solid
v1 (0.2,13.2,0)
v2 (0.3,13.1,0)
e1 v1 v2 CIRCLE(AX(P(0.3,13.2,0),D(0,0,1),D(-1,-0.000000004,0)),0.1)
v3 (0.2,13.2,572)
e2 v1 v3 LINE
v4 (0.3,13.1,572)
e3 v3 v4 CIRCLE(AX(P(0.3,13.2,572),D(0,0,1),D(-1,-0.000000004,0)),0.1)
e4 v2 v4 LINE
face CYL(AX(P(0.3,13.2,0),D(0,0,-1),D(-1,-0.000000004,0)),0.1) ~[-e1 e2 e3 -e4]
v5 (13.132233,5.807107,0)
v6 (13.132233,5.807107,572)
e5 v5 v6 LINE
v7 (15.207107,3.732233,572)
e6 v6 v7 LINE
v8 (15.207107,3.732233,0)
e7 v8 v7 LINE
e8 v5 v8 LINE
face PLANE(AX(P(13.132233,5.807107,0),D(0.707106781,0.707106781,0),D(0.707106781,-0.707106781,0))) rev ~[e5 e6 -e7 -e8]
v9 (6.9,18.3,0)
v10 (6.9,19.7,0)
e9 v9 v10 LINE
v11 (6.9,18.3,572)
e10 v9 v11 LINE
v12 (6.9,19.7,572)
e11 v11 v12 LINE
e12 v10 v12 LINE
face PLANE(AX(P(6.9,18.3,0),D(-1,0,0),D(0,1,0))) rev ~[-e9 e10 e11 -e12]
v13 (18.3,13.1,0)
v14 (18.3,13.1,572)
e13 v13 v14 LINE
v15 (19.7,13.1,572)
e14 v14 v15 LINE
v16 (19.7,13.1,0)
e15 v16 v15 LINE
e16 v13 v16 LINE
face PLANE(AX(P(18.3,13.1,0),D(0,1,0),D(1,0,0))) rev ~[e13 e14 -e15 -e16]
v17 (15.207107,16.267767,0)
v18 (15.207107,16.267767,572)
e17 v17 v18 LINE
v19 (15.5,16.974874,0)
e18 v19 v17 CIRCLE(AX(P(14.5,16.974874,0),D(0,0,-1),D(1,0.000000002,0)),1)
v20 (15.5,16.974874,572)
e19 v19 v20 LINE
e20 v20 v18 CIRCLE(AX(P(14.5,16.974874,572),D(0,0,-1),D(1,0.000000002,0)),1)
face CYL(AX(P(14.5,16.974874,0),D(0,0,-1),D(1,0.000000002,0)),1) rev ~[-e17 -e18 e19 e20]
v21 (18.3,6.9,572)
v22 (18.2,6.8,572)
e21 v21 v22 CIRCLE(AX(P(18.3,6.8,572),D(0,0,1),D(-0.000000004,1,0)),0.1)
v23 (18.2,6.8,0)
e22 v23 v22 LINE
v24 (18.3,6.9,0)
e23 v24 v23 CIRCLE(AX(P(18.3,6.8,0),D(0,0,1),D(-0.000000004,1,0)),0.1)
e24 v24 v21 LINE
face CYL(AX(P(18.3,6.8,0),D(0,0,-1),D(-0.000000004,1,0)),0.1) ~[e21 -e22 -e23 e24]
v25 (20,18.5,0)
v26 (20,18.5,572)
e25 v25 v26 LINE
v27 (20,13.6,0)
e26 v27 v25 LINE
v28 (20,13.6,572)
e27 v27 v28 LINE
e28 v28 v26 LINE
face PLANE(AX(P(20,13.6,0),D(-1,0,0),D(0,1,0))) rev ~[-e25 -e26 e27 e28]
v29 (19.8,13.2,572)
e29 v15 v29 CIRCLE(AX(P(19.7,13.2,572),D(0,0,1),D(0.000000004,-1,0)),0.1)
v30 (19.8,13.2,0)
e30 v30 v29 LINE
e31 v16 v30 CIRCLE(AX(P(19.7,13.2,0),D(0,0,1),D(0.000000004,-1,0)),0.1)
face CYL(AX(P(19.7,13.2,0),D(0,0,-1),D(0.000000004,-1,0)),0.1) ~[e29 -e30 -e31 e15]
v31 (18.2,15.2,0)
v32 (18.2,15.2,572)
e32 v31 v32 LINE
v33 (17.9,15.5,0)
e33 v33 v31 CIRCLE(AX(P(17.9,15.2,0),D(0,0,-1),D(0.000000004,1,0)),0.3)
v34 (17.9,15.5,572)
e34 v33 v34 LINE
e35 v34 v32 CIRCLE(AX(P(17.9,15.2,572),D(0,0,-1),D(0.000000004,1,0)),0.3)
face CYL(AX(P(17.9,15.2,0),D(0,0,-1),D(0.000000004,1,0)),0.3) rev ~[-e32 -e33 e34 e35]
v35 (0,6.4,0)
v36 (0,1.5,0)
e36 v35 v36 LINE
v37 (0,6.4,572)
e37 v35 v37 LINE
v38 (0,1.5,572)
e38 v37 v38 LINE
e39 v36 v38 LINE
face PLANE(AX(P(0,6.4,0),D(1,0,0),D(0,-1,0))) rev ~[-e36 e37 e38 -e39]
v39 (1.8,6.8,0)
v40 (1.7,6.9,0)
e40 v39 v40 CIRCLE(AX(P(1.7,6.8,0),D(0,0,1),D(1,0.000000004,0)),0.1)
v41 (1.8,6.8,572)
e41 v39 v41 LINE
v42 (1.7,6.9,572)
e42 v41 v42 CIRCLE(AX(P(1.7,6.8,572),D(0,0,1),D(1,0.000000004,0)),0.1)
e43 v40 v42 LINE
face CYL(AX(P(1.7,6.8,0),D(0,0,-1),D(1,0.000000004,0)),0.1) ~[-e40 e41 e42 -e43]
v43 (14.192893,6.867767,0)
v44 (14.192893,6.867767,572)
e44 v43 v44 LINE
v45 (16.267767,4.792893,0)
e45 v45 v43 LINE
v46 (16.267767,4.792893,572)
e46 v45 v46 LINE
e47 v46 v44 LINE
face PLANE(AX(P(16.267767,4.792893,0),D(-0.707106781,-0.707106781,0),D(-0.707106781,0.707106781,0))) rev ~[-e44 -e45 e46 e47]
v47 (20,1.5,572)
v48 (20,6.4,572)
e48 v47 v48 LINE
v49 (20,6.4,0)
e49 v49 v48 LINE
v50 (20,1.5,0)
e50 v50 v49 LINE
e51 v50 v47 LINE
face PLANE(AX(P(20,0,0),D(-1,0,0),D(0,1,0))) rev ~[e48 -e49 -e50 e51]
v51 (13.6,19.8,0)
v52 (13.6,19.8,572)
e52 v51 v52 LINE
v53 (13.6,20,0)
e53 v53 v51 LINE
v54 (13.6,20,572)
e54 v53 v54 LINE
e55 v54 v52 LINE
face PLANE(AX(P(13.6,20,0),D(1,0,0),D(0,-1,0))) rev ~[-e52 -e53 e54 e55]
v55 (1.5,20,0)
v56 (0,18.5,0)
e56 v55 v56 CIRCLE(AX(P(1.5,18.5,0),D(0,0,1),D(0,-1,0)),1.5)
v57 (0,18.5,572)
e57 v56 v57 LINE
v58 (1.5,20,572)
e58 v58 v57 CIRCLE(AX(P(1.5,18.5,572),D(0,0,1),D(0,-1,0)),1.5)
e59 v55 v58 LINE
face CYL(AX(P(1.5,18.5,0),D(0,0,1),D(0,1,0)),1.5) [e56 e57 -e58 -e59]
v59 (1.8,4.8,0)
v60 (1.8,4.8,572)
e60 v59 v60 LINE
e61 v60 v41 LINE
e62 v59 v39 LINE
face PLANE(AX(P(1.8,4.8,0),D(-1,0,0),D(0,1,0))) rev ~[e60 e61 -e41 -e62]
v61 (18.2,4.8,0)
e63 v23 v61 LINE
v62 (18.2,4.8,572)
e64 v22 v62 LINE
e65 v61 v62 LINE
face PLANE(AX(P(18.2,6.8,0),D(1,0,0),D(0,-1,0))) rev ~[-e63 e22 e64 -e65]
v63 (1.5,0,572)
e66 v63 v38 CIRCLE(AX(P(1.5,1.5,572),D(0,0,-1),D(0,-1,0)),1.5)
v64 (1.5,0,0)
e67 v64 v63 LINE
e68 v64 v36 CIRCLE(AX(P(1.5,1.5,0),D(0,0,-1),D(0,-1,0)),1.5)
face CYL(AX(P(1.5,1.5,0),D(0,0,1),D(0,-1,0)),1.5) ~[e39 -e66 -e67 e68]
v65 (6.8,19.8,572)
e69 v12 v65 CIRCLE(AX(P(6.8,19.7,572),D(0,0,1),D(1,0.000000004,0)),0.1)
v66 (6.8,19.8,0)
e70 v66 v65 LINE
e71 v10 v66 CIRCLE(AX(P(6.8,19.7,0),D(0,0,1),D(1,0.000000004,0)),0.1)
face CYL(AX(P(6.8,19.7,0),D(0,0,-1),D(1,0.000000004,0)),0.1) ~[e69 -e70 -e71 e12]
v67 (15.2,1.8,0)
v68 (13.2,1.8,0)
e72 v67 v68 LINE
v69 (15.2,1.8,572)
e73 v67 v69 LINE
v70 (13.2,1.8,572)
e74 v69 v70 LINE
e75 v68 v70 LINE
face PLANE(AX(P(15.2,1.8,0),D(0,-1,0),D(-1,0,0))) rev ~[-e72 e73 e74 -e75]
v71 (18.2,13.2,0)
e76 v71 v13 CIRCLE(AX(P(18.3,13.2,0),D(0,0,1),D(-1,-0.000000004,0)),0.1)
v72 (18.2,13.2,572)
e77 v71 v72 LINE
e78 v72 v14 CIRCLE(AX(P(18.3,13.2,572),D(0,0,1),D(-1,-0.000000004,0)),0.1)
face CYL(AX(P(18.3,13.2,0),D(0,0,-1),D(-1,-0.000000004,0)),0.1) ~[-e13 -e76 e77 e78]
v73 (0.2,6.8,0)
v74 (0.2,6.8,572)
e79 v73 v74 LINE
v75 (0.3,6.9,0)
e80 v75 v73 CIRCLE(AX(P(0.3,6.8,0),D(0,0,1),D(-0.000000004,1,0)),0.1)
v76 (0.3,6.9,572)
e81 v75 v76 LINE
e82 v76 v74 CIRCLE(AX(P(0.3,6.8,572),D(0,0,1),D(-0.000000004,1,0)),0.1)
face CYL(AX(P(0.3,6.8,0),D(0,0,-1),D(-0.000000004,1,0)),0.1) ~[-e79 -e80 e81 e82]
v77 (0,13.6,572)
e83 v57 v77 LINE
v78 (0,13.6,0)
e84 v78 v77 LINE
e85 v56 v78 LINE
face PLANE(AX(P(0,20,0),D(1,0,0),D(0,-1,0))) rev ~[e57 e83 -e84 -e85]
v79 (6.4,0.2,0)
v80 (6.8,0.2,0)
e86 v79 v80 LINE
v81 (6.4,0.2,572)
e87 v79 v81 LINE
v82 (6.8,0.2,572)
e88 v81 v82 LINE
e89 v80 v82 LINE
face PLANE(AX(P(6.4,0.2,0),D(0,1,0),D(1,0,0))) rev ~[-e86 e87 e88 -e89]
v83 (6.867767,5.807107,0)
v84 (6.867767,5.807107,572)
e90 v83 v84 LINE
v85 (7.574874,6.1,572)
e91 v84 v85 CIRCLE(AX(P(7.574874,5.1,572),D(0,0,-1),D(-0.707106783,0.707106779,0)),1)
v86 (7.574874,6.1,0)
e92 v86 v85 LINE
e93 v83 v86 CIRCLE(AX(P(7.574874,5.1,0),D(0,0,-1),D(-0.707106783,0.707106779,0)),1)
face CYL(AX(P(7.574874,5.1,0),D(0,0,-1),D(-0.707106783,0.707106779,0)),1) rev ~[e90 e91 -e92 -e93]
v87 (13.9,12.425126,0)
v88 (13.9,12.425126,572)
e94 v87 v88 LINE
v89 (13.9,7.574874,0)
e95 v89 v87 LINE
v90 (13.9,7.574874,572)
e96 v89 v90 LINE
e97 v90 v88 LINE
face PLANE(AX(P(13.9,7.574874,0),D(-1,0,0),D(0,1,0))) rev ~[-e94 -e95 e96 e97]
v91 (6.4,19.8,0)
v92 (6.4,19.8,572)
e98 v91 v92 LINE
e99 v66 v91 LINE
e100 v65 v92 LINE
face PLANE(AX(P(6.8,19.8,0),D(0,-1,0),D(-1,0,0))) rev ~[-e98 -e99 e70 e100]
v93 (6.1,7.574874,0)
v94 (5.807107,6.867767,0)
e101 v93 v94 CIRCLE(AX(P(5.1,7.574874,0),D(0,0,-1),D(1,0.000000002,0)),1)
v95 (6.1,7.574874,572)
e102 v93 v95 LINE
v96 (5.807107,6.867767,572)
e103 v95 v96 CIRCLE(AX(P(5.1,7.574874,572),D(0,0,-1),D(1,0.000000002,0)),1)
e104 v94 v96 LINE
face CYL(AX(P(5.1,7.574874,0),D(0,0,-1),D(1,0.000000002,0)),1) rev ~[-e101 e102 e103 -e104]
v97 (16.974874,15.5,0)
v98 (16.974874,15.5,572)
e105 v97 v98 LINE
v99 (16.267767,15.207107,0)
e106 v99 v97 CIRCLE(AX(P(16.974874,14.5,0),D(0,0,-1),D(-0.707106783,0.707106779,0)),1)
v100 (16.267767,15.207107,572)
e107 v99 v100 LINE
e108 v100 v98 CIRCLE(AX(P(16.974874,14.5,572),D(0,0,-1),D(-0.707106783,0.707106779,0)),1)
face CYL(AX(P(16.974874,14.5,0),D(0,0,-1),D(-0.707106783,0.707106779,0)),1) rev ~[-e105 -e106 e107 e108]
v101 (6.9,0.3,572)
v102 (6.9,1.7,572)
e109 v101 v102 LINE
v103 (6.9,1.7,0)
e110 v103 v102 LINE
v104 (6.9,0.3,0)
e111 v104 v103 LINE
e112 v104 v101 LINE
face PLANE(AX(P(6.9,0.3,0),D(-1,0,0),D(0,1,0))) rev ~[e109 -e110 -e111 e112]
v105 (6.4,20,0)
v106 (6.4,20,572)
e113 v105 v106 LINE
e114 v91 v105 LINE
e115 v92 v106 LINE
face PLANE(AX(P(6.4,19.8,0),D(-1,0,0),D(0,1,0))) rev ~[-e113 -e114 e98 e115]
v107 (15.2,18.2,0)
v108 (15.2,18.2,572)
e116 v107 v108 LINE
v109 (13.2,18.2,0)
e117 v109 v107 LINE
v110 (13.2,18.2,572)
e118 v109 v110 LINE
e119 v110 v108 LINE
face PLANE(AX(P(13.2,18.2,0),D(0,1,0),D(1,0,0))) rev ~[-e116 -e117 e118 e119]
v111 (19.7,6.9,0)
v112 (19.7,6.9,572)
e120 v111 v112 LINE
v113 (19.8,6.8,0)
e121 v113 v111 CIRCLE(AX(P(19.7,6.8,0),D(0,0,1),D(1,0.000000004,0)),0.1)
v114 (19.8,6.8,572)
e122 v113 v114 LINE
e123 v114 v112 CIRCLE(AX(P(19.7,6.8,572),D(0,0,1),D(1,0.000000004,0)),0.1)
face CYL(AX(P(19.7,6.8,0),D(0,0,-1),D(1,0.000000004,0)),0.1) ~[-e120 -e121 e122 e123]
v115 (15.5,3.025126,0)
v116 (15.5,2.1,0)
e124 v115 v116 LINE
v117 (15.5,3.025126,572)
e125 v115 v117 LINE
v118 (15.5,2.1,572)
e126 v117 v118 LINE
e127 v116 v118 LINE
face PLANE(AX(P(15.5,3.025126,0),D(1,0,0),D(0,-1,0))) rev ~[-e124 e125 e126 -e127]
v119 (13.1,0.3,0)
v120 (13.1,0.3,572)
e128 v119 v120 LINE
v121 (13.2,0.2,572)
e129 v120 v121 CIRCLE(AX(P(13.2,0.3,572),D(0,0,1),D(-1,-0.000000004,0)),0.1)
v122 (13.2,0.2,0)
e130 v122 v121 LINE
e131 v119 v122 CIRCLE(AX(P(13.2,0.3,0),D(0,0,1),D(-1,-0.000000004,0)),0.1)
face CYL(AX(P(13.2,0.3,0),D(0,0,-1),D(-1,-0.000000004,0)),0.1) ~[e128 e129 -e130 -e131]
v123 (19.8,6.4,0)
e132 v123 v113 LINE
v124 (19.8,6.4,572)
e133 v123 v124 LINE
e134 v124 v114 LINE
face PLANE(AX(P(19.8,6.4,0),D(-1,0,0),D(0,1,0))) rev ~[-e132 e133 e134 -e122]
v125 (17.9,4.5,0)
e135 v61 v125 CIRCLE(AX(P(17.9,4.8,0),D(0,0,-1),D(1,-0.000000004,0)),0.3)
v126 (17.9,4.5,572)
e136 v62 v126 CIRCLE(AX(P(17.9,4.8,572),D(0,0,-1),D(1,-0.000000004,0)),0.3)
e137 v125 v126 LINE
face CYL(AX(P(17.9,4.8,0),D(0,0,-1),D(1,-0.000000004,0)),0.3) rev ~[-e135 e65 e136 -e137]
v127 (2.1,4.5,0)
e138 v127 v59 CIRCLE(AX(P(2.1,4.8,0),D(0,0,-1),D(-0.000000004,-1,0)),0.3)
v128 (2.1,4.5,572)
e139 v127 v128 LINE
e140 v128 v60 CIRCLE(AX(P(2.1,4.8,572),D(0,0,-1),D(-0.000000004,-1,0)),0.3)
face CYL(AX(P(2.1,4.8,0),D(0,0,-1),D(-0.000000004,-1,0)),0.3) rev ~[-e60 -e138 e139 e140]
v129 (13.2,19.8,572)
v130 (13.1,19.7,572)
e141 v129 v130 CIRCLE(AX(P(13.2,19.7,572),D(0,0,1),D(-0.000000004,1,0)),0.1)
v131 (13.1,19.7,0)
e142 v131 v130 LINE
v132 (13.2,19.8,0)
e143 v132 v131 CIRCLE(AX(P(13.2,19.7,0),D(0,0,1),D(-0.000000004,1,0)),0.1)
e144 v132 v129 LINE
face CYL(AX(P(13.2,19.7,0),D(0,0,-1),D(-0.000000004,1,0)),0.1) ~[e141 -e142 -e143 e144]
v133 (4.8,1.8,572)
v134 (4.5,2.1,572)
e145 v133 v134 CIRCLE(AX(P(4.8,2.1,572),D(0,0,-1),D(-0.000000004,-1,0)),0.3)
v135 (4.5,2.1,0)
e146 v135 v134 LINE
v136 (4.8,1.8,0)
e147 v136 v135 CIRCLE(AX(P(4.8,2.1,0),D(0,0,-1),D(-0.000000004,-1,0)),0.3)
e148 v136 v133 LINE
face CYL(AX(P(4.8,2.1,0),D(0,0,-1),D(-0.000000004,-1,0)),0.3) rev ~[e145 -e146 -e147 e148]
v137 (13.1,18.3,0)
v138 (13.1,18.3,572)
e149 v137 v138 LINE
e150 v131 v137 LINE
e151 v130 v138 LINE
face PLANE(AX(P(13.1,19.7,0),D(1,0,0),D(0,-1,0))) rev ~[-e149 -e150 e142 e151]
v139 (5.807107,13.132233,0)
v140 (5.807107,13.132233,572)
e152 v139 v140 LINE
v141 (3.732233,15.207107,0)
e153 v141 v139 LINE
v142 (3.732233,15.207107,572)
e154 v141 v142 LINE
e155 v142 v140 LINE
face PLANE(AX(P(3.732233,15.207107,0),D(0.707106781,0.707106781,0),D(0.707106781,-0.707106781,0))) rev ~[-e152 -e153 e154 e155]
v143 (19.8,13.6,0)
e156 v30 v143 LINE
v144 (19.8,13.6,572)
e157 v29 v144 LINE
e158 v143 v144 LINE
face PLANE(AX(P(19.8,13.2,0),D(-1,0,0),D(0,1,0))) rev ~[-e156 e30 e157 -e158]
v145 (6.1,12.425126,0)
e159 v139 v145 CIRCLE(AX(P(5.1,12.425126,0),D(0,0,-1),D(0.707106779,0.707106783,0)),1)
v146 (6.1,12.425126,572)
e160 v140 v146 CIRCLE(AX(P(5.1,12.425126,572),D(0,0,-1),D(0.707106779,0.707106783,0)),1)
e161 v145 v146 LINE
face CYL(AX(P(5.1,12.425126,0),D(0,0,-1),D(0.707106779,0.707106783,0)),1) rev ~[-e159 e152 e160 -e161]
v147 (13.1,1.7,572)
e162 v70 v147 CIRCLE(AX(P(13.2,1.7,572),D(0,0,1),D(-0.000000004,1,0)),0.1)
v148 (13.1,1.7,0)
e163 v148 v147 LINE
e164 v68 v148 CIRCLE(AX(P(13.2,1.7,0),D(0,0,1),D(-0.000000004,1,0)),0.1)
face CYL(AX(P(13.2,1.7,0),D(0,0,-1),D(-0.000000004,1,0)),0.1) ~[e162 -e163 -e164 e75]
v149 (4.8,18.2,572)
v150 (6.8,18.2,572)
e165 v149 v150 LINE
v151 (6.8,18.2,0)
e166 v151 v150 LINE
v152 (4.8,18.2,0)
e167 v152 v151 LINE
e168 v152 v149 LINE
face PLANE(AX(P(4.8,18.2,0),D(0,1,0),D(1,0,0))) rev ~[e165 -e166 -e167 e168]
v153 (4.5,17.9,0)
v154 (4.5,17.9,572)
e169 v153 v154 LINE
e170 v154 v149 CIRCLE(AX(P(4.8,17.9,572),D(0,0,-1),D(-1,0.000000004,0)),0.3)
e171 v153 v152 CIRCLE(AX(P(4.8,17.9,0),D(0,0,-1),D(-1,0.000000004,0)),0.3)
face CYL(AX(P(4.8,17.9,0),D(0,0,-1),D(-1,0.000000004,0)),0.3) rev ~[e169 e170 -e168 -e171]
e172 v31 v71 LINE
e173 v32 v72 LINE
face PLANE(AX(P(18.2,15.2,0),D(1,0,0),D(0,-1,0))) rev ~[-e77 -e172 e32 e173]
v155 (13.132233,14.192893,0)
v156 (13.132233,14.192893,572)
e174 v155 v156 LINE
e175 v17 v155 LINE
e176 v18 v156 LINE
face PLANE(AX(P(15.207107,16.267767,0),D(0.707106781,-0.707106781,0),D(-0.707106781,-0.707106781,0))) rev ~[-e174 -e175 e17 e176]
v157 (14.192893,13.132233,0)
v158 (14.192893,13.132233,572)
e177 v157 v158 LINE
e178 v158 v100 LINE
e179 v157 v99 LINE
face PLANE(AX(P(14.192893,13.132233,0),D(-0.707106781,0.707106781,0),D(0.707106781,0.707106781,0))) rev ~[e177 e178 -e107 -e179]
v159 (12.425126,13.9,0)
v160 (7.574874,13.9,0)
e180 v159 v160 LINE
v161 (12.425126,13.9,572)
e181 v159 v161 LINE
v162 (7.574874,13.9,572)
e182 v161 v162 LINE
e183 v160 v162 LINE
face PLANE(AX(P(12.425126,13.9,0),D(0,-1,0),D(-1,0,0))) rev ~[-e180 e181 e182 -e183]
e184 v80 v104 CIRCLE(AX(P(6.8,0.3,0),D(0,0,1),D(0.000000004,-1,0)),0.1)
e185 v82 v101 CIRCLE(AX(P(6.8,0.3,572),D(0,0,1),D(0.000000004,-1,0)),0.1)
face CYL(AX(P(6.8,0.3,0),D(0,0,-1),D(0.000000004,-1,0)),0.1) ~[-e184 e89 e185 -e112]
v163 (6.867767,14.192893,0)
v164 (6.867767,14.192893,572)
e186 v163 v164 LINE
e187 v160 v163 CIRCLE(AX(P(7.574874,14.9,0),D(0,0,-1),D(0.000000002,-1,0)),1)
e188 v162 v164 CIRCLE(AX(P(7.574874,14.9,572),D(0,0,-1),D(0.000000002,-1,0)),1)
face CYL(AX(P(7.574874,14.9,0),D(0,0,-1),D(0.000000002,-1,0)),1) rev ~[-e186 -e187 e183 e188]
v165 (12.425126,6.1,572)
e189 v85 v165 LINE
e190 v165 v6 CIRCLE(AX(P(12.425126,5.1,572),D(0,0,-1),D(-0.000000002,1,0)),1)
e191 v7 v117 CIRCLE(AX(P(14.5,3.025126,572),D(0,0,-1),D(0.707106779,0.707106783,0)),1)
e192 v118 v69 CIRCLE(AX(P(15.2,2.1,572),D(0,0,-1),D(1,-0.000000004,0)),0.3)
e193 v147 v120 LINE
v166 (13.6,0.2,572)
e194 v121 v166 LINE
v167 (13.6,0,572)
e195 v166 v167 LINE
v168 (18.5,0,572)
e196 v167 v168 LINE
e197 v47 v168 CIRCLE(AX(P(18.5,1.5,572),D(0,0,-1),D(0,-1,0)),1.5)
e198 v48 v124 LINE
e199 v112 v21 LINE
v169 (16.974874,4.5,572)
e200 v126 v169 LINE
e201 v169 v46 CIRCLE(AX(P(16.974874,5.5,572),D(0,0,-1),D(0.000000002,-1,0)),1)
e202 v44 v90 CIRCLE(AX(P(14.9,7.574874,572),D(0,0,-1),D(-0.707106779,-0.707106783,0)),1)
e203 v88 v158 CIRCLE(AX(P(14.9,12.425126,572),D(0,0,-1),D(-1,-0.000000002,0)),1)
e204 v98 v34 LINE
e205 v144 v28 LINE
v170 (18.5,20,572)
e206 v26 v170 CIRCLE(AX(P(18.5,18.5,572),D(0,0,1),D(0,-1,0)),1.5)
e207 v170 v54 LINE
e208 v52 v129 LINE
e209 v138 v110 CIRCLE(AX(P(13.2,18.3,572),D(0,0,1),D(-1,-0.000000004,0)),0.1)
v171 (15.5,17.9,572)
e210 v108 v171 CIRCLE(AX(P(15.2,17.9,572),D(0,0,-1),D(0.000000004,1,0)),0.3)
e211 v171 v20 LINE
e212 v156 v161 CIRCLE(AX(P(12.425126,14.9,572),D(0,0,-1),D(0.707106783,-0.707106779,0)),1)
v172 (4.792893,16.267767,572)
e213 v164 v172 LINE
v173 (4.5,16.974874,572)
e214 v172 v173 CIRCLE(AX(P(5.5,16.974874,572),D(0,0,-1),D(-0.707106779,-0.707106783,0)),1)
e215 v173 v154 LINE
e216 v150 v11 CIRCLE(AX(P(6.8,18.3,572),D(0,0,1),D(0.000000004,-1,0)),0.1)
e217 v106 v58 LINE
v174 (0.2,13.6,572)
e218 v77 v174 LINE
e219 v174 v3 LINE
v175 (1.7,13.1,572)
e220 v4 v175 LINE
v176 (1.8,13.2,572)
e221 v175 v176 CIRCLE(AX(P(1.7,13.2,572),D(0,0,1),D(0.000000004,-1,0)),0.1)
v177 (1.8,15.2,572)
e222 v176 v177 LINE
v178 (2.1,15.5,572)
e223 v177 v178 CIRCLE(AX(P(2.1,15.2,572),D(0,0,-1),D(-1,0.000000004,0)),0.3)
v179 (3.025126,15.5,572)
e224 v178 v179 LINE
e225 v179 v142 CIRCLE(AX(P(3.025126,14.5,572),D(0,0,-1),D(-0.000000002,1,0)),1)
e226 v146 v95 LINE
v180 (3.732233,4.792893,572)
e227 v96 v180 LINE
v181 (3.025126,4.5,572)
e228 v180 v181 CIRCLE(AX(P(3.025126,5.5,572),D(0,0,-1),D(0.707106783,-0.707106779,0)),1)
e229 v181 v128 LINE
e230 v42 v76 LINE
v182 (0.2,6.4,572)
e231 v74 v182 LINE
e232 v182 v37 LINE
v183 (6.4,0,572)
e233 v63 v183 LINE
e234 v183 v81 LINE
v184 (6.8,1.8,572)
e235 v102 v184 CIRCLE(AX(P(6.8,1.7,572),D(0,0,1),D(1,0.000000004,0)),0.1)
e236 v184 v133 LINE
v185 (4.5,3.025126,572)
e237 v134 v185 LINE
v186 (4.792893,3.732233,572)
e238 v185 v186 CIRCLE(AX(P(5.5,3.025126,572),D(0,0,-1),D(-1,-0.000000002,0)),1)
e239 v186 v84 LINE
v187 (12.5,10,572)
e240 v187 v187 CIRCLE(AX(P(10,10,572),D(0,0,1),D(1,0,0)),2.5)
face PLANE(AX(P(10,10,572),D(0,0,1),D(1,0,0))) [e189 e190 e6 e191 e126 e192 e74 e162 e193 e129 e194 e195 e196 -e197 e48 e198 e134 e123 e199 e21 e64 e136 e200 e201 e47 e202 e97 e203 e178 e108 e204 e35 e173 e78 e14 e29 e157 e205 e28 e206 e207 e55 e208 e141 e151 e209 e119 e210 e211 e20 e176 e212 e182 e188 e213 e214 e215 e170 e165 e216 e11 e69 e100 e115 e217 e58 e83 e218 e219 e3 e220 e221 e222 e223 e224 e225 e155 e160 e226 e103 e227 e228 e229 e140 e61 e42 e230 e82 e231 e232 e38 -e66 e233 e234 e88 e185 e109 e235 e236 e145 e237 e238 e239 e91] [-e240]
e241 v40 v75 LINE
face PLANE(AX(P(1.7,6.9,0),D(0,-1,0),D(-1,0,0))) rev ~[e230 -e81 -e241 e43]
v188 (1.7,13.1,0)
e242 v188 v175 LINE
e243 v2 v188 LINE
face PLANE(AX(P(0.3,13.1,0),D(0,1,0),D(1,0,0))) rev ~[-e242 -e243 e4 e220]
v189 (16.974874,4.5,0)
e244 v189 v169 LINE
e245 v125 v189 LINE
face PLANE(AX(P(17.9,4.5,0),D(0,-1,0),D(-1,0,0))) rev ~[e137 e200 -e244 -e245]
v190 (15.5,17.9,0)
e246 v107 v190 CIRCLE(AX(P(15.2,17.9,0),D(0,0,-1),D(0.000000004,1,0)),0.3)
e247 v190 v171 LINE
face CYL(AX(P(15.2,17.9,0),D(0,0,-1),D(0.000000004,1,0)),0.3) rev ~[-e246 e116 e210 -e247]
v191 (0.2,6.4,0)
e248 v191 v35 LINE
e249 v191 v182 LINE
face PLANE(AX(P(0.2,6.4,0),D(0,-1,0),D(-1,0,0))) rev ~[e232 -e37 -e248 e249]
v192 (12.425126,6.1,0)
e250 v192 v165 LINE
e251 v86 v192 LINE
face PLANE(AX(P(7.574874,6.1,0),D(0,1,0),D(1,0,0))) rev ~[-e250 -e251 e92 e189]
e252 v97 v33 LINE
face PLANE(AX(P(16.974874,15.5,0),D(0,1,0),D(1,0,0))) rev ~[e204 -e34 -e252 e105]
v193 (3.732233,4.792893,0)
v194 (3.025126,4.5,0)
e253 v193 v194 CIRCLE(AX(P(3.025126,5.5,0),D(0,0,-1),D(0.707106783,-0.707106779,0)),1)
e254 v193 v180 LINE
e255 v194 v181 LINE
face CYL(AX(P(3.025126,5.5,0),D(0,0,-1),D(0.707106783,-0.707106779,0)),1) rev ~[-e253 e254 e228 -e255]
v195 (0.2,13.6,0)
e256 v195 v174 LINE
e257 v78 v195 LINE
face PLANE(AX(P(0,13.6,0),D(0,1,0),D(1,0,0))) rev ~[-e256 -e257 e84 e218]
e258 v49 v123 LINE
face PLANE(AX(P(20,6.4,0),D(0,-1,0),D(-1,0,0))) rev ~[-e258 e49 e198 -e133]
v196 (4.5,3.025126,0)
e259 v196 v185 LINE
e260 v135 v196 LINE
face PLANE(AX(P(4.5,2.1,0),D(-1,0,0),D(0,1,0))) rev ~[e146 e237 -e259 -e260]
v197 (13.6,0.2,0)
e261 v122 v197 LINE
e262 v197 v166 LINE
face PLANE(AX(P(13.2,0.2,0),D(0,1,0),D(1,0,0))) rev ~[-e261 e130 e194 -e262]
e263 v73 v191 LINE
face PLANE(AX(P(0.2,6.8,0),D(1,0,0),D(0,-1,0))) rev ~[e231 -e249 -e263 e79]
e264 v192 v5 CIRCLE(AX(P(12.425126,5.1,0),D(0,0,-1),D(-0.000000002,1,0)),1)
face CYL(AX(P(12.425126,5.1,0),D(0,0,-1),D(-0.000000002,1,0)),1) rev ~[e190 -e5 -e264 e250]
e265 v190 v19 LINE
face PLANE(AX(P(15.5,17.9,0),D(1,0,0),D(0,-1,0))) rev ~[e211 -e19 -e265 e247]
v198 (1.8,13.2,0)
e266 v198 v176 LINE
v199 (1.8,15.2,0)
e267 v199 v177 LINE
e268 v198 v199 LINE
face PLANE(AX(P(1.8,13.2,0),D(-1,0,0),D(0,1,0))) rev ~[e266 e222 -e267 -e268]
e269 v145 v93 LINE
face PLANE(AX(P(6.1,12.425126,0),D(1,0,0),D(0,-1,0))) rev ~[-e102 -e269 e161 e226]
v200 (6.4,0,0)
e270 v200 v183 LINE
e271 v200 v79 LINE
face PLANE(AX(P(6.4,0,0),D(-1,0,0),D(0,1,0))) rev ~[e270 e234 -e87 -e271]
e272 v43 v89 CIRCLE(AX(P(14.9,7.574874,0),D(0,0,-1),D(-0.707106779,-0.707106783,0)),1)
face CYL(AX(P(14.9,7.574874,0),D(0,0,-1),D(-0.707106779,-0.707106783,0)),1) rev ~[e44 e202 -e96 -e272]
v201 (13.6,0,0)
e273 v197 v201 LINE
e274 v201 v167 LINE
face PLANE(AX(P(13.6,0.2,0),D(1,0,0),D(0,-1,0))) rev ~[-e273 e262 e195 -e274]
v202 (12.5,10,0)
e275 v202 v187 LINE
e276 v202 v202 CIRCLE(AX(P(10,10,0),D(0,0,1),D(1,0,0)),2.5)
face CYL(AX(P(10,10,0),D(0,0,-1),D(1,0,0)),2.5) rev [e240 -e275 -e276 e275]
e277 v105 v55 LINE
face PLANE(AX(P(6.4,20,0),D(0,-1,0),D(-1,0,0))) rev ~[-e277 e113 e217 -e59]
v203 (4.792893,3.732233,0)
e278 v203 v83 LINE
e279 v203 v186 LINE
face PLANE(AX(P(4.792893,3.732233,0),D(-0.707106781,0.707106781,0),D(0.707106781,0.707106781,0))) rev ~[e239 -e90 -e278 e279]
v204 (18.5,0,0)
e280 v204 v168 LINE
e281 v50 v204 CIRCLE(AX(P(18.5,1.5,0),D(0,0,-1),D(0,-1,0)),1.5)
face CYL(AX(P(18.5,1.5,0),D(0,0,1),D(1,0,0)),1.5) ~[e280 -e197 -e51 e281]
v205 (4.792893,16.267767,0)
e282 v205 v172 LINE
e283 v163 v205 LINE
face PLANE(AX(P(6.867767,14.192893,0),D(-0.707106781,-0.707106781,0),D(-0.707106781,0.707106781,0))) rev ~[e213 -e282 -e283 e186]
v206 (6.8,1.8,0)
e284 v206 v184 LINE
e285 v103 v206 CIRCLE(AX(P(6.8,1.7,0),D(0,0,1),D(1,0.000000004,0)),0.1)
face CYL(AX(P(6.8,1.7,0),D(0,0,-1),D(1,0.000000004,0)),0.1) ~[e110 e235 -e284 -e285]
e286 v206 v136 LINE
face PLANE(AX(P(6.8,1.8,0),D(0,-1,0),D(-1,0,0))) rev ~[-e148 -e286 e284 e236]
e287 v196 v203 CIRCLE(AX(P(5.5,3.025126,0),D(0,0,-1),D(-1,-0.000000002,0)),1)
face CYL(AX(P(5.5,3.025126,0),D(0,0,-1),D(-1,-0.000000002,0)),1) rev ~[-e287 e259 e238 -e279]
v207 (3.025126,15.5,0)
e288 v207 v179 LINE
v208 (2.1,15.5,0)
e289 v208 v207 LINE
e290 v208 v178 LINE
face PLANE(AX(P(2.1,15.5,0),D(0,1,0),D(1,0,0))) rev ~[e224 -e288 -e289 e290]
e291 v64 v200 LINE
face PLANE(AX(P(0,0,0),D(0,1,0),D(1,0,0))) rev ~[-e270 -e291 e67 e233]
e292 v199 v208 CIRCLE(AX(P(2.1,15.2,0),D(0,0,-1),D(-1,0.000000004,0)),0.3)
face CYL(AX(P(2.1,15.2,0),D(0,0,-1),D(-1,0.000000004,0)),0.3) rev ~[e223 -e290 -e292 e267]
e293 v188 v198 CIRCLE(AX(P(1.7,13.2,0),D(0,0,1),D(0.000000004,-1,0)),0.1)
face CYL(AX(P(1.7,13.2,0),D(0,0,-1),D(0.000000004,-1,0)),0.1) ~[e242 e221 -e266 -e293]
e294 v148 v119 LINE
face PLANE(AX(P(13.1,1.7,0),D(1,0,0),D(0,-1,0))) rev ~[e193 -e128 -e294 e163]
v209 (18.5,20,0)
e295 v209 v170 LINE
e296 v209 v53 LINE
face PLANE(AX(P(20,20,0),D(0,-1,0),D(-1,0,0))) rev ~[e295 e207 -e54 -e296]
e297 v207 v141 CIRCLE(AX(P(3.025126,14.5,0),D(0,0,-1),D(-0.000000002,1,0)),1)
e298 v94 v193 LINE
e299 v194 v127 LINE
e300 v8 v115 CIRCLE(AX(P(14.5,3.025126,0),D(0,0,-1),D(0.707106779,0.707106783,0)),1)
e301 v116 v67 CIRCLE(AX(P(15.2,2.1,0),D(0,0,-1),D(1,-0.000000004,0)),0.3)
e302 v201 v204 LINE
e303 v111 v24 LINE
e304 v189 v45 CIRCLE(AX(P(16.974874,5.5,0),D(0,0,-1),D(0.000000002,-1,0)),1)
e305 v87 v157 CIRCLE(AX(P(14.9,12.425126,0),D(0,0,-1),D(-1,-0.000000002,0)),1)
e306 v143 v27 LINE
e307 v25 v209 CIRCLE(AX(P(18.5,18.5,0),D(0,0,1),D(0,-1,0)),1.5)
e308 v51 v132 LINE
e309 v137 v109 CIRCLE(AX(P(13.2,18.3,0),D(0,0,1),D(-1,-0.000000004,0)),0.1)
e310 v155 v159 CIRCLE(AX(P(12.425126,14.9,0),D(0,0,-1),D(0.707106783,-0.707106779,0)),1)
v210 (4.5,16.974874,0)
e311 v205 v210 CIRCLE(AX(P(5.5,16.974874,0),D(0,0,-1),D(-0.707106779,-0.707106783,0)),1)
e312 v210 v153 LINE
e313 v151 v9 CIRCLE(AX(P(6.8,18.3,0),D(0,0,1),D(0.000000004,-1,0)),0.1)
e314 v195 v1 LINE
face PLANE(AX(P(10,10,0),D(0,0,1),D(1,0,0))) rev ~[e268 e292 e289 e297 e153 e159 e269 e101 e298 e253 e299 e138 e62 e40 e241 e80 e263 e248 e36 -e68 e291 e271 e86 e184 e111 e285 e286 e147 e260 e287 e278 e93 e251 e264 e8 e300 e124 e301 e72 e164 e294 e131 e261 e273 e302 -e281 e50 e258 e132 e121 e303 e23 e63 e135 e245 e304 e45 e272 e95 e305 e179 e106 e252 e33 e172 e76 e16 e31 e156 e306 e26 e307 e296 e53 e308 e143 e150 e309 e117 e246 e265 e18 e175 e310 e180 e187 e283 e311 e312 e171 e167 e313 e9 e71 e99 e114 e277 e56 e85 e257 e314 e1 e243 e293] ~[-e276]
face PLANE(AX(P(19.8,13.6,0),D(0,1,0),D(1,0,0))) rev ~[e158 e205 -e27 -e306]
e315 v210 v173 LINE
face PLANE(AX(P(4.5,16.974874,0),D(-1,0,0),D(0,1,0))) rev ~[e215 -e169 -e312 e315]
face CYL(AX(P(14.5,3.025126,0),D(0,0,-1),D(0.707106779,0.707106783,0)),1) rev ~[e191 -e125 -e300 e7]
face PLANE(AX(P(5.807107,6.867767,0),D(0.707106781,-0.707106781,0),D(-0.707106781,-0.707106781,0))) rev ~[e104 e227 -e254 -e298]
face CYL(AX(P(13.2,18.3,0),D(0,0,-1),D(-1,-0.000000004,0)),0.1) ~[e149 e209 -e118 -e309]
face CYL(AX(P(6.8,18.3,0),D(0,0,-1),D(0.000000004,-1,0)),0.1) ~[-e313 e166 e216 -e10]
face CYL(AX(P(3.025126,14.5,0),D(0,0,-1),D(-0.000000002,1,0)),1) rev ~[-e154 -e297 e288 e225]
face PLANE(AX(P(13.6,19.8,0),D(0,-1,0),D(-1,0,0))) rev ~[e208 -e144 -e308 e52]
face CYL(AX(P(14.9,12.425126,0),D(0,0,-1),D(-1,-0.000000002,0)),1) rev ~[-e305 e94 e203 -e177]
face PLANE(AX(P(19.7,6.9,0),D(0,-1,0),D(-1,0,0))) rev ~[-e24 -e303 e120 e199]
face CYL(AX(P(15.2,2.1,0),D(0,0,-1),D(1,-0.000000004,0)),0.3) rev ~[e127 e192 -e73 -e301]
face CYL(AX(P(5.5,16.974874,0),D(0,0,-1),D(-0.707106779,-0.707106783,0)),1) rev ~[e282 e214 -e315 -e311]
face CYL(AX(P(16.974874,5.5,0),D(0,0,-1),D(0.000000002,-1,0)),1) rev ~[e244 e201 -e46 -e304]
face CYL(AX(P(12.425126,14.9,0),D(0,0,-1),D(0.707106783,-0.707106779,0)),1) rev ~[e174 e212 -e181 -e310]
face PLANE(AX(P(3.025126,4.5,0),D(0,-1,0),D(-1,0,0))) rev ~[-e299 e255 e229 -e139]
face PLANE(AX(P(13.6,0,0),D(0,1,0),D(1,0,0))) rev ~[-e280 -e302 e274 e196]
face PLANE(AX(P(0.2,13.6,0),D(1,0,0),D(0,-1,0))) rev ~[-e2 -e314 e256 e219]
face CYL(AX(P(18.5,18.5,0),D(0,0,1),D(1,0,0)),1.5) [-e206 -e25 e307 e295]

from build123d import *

# Parameters (mm, degrees)
SKETCH_1_R      = 2.5
EXTRUDE_1_DEPTH = 572
FILLET_1_R      = 1.5


with BuildPart() as part:
    # 草图1 → 凸台-拉伸1 (new body)
    with BuildSketch(Plane.XY):
        with BuildLine():
            Line((20, 13.6), (20, 20))
            Line((20, 20), (13.6, 20))
            Line((13.6, 20), (13.6, 19.8))
            Line((13.6, 19.8), (13.2, 19.8))
            ThreePointArc((13.2, 19.8), (13.129289322, 19.770710678), (13.1, 19.7))
            Line((13.1, 19.7), (13.1, 18.3))
            ThreePointArc((13.1, 18.3), (13.129289322, 18.229289322), (13.2, 18.2))
            Line((13.2, 18.2), (15.2, 18.2))
            ThreePointArc((15.2, 18.2), (15.412132034, 18.112132034), (15.5, 17.9))
            Line((15.5, 17.9), (15.5, 16.974873734))
            ThreePointArc((15.5, 16.974873734), (15.423879533, 16.592190302), (15.207106781, 16.267766953))
            Line((15.207106781, 16.267766953), (13.132233047, 14.192893219))
            ThreePointArc((13.132233047, 14.192893219), (12.807809698, 13.976120467), (12.425126266, 13.9))
            Line((12.425126266, 13.9), (7.574873734, 13.9))
            ThreePointArc((7.574873734, 13.9), (7.192190302, 13.976120467), (6.867766953, 14.192893219))
            Line((6.867766953, 14.192893219), (4.792893219, 16.267766953))
            ThreePointArc((4.792893219, 16.267766953), (4.576120467, 16.592190302), (4.5, 16.974873734))
            Line((4.5, 16.974873734), (4.5, 17.9))
            ThreePointArc((4.5, 17.9), (4.587867966, 18.112132034), (4.8, 18.2))
            Line((4.8, 18.2), (6.8, 18.2))
            ThreePointArc((6.8, 18.2), (6.870710678, 18.229289322), (6.9, 18.3))
            Line((6.9, 18.3), (6.9, 19.7))
            ThreePointArc((6.9, 19.7), (6.870710678, 19.770710678), (6.8, 19.8))
            Line((6.8, 19.8), (6.4, 19.8))
            Line((6.4, 19.8), (6.4, 20))
            Line((6.4, 20), (0, 20))
            Line((0, 20), (0, 13.6))
            Line((0, 13.6), (0.2, 13.6))
            Line((0.2, 13.6), (0.2, 13.2))
            ThreePointArc((0.2, 13.2), (0.229289322, 13.129289322), (0.3, 13.1))
            Line((0.3, 13.1), (1.7, 13.1))
            ThreePointArc((1.7, 13.1), (1.770710678, 13.129289322), (1.8, 13.2))
            Line((1.8, 13.2), (1.8, 15.2))
            ThreePointArc((1.8, 15.2), (1.887867966, 15.412132034), (2.1, 15.5))
            Line((2.1, 15.5), (3.025126266, 15.5))
            ThreePointArc((3.025126266, 15.5), (3.407809698, 15.423879533), (3.732233047, 15.207106781))
            Line((3.732233047, 15.207106781), (5.807106781, 13.132233047))
            ThreePointArc((5.807106781, 13.132233047), (6.023879533, 12.807809698), (6.1, 12.425126266))
            Line((6.1, 12.425126266), (6.1, 7.574873734))
            ThreePointArc((6.1, 7.574873734), (6.023879533, 7.192190302), (5.807106781, 6.867766953))
            Line((5.807106781, 6.867766953), (3.732233047, 4.792893219))
            ThreePointArc((3.732233047, 4.792893219), (3.407809698, 4.576120467), (3.025126266, 4.5))
            Line((3.025126266, 4.5), (2.1, 4.5))
            ThreePointArc((2.1, 4.5), (1.887867966, 4.587867966), (1.8, 4.8))
            Line((1.8, 4.8), (1.8, 6.8))
            ThreePointArc((1.8, 6.8), (1.770710678, 6.870710678), (1.7, 6.9))
            Line((1.7, 6.9), (0.3, 6.9))
            ThreePointArc((0.3, 6.9), (0.229289322, 6.870710678), (0.2, 6.8))
            Line((0.2, 6.8), (0.2, 6.4))
            Line((0.2, 6.4), (0, 6.4))
            Line((0, 6.4), (0, 0))
            Line((0, 0), (6.4, 0))
            Line((6.4, 0), (6.4, 0.2))
            Line((6.4, 0.2), (6.8, 0.2))
            ThreePointArc((6.8, 0.2), (6.870710678, 0.229289322), (6.9, 0.3))
            Line((6.9, 0.3), (6.9, 1.7))
            ThreePointArc((6.9, 1.7), (6.870710678, 1.770710678), (6.8, 1.8))
            Line((6.8, 1.8), (4.8, 1.8))
            ThreePointArc((4.8, 1.8), (4.587867966, 1.887867966), (4.5, 2.1))
            Line((4.5, 2.1), (4.5, 3.025126266))
            ThreePointArc((4.5, 3.025126266), (4.576120467, 3.407809698), (4.792893219, 3.732233047))
            Line((4.792893219, 3.732233047), (6.867766953, 5.807106781))
            ThreePointArc((6.867766953, 5.807106781), (7.192190302, 6.023879533), (7.574873734, 6.1))
            Line((7.574873734, 6.1), (12.425126266, 6.1))
            ThreePointArc((12.425126266, 6.1), (12.807809698, 6.023879533), (13.132233047, 5.807106781))
            Line((13.132233047, 5.807106781), (15.207106781, 3.732233047))
            ThreePointArc((15.207106781, 3.732233047), (15.423879533, 3.407809698), (15.5, 3.025126266))
            Line((15.5, 3.025126266), (15.5, 2.1))
            ThreePointArc((15.5, 2.1), (15.412132034, 1.887867966), (15.2, 1.8))
            Line((15.2, 1.8), (13.2, 1.8))
            ThreePointArc((13.2, 1.8), (13.129289322, 1.770710678), (13.1, 1.7))
            Line((13.1, 1.7), (13.1, 0.3))
            ThreePointArc((13.1, 0.3), (13.129289322, 0.229289322), (13.2, 0.2))
            Line((13.2, 0.2), (13.6, 0.2))
            Line((13.6, 0.2), (13.6, 0))
            Line((13.6, 0), (20, 0))
            Line((20, 0), (20, 6.4))
            Line((20, 6.4), (19.8, 6.4))
            Line((19.8, 6.4), (19.8, 6.8))
            ThreePointArc((19.8, 6.8), (19.770710678, 6.870710678), (19.7, 6.9))
            Line((19.7, 6.9), (18.3, 6.9))
            ThreePointArc((18.3, 6.9), (18.229289322, 6.870710678), (18.2, 6.8))
            Line((18.2, 6.8), (18.2, 4.8))
            ThreePointArc((18.2, 4.8), (18.112132034, 4.587867966), (17.9, 4.5))
            Line((17.9, 4.5), (16.974873734, 4.5))
            ThreePointArc((16.974873734, 4.5), (16.592190302, 4.576120467), (16.267766953, 4.792893219))
            Line((16.267766953, 4.792893219), (14.192893219, 6.867766953))
            ThreePointArc((14.192893219, 6.867766953), (13.976120467, 7.192190302), (13.9, 7.574873734))
            Line((13.9, 7.574873734), (13.9, 12.425126266))
            ThreePointArc((13.9, 12.425126266), (13.976120467, 12.807809698), (14.192893219, 13.132233047))
            Line((14.192893219, 13.132233047), (16.267766953, 15.207106781))
            ThreePointArc((16.267766953, 15.207106781), (16.592190302, 15.423879533), (16.974873734, 15.5))
            Line((16.974873734, 15.5), (17.9, 15.5))
            ThreePointArc((17.9, 15.5), (18.112132034, 15.412132034), (18.2, 15.2))
            Line((18.2, 15.2), (18.2, 13.2))
            ThreePointArc((18.2, 13.2), (18.229289322, 13.129289322), (18.3, 13.1))
            Line((18.3, 13.1), (19.7, 13.1))
            ThreePointArc((19.7, 13.1), (19.770710678, 13.129289322), (19.8, 13.2))
            Line((19.8, 13.2), (19.8, 13.6))
            Line((19.8, 13.6), (20, 13.6))
        make_face()
        with Locations((10, 10)):
            Circle(SKETCH_1_R, mode=Mode.SUBTRACT)
    extrude(amount=EXTRUDE_1_DEPTH)

    # 圆角1
    fillet_1_edges = [part.edges().sort_by_distance(p)[0] for p in [
        (0, 0, 286),
        (0, 20, 286),
        (20, 20, 286),
        (20, 0, 286),
    ]]
    fillet(fillet_1_edges, radius=FILLET_1_R)


solid = part.part
